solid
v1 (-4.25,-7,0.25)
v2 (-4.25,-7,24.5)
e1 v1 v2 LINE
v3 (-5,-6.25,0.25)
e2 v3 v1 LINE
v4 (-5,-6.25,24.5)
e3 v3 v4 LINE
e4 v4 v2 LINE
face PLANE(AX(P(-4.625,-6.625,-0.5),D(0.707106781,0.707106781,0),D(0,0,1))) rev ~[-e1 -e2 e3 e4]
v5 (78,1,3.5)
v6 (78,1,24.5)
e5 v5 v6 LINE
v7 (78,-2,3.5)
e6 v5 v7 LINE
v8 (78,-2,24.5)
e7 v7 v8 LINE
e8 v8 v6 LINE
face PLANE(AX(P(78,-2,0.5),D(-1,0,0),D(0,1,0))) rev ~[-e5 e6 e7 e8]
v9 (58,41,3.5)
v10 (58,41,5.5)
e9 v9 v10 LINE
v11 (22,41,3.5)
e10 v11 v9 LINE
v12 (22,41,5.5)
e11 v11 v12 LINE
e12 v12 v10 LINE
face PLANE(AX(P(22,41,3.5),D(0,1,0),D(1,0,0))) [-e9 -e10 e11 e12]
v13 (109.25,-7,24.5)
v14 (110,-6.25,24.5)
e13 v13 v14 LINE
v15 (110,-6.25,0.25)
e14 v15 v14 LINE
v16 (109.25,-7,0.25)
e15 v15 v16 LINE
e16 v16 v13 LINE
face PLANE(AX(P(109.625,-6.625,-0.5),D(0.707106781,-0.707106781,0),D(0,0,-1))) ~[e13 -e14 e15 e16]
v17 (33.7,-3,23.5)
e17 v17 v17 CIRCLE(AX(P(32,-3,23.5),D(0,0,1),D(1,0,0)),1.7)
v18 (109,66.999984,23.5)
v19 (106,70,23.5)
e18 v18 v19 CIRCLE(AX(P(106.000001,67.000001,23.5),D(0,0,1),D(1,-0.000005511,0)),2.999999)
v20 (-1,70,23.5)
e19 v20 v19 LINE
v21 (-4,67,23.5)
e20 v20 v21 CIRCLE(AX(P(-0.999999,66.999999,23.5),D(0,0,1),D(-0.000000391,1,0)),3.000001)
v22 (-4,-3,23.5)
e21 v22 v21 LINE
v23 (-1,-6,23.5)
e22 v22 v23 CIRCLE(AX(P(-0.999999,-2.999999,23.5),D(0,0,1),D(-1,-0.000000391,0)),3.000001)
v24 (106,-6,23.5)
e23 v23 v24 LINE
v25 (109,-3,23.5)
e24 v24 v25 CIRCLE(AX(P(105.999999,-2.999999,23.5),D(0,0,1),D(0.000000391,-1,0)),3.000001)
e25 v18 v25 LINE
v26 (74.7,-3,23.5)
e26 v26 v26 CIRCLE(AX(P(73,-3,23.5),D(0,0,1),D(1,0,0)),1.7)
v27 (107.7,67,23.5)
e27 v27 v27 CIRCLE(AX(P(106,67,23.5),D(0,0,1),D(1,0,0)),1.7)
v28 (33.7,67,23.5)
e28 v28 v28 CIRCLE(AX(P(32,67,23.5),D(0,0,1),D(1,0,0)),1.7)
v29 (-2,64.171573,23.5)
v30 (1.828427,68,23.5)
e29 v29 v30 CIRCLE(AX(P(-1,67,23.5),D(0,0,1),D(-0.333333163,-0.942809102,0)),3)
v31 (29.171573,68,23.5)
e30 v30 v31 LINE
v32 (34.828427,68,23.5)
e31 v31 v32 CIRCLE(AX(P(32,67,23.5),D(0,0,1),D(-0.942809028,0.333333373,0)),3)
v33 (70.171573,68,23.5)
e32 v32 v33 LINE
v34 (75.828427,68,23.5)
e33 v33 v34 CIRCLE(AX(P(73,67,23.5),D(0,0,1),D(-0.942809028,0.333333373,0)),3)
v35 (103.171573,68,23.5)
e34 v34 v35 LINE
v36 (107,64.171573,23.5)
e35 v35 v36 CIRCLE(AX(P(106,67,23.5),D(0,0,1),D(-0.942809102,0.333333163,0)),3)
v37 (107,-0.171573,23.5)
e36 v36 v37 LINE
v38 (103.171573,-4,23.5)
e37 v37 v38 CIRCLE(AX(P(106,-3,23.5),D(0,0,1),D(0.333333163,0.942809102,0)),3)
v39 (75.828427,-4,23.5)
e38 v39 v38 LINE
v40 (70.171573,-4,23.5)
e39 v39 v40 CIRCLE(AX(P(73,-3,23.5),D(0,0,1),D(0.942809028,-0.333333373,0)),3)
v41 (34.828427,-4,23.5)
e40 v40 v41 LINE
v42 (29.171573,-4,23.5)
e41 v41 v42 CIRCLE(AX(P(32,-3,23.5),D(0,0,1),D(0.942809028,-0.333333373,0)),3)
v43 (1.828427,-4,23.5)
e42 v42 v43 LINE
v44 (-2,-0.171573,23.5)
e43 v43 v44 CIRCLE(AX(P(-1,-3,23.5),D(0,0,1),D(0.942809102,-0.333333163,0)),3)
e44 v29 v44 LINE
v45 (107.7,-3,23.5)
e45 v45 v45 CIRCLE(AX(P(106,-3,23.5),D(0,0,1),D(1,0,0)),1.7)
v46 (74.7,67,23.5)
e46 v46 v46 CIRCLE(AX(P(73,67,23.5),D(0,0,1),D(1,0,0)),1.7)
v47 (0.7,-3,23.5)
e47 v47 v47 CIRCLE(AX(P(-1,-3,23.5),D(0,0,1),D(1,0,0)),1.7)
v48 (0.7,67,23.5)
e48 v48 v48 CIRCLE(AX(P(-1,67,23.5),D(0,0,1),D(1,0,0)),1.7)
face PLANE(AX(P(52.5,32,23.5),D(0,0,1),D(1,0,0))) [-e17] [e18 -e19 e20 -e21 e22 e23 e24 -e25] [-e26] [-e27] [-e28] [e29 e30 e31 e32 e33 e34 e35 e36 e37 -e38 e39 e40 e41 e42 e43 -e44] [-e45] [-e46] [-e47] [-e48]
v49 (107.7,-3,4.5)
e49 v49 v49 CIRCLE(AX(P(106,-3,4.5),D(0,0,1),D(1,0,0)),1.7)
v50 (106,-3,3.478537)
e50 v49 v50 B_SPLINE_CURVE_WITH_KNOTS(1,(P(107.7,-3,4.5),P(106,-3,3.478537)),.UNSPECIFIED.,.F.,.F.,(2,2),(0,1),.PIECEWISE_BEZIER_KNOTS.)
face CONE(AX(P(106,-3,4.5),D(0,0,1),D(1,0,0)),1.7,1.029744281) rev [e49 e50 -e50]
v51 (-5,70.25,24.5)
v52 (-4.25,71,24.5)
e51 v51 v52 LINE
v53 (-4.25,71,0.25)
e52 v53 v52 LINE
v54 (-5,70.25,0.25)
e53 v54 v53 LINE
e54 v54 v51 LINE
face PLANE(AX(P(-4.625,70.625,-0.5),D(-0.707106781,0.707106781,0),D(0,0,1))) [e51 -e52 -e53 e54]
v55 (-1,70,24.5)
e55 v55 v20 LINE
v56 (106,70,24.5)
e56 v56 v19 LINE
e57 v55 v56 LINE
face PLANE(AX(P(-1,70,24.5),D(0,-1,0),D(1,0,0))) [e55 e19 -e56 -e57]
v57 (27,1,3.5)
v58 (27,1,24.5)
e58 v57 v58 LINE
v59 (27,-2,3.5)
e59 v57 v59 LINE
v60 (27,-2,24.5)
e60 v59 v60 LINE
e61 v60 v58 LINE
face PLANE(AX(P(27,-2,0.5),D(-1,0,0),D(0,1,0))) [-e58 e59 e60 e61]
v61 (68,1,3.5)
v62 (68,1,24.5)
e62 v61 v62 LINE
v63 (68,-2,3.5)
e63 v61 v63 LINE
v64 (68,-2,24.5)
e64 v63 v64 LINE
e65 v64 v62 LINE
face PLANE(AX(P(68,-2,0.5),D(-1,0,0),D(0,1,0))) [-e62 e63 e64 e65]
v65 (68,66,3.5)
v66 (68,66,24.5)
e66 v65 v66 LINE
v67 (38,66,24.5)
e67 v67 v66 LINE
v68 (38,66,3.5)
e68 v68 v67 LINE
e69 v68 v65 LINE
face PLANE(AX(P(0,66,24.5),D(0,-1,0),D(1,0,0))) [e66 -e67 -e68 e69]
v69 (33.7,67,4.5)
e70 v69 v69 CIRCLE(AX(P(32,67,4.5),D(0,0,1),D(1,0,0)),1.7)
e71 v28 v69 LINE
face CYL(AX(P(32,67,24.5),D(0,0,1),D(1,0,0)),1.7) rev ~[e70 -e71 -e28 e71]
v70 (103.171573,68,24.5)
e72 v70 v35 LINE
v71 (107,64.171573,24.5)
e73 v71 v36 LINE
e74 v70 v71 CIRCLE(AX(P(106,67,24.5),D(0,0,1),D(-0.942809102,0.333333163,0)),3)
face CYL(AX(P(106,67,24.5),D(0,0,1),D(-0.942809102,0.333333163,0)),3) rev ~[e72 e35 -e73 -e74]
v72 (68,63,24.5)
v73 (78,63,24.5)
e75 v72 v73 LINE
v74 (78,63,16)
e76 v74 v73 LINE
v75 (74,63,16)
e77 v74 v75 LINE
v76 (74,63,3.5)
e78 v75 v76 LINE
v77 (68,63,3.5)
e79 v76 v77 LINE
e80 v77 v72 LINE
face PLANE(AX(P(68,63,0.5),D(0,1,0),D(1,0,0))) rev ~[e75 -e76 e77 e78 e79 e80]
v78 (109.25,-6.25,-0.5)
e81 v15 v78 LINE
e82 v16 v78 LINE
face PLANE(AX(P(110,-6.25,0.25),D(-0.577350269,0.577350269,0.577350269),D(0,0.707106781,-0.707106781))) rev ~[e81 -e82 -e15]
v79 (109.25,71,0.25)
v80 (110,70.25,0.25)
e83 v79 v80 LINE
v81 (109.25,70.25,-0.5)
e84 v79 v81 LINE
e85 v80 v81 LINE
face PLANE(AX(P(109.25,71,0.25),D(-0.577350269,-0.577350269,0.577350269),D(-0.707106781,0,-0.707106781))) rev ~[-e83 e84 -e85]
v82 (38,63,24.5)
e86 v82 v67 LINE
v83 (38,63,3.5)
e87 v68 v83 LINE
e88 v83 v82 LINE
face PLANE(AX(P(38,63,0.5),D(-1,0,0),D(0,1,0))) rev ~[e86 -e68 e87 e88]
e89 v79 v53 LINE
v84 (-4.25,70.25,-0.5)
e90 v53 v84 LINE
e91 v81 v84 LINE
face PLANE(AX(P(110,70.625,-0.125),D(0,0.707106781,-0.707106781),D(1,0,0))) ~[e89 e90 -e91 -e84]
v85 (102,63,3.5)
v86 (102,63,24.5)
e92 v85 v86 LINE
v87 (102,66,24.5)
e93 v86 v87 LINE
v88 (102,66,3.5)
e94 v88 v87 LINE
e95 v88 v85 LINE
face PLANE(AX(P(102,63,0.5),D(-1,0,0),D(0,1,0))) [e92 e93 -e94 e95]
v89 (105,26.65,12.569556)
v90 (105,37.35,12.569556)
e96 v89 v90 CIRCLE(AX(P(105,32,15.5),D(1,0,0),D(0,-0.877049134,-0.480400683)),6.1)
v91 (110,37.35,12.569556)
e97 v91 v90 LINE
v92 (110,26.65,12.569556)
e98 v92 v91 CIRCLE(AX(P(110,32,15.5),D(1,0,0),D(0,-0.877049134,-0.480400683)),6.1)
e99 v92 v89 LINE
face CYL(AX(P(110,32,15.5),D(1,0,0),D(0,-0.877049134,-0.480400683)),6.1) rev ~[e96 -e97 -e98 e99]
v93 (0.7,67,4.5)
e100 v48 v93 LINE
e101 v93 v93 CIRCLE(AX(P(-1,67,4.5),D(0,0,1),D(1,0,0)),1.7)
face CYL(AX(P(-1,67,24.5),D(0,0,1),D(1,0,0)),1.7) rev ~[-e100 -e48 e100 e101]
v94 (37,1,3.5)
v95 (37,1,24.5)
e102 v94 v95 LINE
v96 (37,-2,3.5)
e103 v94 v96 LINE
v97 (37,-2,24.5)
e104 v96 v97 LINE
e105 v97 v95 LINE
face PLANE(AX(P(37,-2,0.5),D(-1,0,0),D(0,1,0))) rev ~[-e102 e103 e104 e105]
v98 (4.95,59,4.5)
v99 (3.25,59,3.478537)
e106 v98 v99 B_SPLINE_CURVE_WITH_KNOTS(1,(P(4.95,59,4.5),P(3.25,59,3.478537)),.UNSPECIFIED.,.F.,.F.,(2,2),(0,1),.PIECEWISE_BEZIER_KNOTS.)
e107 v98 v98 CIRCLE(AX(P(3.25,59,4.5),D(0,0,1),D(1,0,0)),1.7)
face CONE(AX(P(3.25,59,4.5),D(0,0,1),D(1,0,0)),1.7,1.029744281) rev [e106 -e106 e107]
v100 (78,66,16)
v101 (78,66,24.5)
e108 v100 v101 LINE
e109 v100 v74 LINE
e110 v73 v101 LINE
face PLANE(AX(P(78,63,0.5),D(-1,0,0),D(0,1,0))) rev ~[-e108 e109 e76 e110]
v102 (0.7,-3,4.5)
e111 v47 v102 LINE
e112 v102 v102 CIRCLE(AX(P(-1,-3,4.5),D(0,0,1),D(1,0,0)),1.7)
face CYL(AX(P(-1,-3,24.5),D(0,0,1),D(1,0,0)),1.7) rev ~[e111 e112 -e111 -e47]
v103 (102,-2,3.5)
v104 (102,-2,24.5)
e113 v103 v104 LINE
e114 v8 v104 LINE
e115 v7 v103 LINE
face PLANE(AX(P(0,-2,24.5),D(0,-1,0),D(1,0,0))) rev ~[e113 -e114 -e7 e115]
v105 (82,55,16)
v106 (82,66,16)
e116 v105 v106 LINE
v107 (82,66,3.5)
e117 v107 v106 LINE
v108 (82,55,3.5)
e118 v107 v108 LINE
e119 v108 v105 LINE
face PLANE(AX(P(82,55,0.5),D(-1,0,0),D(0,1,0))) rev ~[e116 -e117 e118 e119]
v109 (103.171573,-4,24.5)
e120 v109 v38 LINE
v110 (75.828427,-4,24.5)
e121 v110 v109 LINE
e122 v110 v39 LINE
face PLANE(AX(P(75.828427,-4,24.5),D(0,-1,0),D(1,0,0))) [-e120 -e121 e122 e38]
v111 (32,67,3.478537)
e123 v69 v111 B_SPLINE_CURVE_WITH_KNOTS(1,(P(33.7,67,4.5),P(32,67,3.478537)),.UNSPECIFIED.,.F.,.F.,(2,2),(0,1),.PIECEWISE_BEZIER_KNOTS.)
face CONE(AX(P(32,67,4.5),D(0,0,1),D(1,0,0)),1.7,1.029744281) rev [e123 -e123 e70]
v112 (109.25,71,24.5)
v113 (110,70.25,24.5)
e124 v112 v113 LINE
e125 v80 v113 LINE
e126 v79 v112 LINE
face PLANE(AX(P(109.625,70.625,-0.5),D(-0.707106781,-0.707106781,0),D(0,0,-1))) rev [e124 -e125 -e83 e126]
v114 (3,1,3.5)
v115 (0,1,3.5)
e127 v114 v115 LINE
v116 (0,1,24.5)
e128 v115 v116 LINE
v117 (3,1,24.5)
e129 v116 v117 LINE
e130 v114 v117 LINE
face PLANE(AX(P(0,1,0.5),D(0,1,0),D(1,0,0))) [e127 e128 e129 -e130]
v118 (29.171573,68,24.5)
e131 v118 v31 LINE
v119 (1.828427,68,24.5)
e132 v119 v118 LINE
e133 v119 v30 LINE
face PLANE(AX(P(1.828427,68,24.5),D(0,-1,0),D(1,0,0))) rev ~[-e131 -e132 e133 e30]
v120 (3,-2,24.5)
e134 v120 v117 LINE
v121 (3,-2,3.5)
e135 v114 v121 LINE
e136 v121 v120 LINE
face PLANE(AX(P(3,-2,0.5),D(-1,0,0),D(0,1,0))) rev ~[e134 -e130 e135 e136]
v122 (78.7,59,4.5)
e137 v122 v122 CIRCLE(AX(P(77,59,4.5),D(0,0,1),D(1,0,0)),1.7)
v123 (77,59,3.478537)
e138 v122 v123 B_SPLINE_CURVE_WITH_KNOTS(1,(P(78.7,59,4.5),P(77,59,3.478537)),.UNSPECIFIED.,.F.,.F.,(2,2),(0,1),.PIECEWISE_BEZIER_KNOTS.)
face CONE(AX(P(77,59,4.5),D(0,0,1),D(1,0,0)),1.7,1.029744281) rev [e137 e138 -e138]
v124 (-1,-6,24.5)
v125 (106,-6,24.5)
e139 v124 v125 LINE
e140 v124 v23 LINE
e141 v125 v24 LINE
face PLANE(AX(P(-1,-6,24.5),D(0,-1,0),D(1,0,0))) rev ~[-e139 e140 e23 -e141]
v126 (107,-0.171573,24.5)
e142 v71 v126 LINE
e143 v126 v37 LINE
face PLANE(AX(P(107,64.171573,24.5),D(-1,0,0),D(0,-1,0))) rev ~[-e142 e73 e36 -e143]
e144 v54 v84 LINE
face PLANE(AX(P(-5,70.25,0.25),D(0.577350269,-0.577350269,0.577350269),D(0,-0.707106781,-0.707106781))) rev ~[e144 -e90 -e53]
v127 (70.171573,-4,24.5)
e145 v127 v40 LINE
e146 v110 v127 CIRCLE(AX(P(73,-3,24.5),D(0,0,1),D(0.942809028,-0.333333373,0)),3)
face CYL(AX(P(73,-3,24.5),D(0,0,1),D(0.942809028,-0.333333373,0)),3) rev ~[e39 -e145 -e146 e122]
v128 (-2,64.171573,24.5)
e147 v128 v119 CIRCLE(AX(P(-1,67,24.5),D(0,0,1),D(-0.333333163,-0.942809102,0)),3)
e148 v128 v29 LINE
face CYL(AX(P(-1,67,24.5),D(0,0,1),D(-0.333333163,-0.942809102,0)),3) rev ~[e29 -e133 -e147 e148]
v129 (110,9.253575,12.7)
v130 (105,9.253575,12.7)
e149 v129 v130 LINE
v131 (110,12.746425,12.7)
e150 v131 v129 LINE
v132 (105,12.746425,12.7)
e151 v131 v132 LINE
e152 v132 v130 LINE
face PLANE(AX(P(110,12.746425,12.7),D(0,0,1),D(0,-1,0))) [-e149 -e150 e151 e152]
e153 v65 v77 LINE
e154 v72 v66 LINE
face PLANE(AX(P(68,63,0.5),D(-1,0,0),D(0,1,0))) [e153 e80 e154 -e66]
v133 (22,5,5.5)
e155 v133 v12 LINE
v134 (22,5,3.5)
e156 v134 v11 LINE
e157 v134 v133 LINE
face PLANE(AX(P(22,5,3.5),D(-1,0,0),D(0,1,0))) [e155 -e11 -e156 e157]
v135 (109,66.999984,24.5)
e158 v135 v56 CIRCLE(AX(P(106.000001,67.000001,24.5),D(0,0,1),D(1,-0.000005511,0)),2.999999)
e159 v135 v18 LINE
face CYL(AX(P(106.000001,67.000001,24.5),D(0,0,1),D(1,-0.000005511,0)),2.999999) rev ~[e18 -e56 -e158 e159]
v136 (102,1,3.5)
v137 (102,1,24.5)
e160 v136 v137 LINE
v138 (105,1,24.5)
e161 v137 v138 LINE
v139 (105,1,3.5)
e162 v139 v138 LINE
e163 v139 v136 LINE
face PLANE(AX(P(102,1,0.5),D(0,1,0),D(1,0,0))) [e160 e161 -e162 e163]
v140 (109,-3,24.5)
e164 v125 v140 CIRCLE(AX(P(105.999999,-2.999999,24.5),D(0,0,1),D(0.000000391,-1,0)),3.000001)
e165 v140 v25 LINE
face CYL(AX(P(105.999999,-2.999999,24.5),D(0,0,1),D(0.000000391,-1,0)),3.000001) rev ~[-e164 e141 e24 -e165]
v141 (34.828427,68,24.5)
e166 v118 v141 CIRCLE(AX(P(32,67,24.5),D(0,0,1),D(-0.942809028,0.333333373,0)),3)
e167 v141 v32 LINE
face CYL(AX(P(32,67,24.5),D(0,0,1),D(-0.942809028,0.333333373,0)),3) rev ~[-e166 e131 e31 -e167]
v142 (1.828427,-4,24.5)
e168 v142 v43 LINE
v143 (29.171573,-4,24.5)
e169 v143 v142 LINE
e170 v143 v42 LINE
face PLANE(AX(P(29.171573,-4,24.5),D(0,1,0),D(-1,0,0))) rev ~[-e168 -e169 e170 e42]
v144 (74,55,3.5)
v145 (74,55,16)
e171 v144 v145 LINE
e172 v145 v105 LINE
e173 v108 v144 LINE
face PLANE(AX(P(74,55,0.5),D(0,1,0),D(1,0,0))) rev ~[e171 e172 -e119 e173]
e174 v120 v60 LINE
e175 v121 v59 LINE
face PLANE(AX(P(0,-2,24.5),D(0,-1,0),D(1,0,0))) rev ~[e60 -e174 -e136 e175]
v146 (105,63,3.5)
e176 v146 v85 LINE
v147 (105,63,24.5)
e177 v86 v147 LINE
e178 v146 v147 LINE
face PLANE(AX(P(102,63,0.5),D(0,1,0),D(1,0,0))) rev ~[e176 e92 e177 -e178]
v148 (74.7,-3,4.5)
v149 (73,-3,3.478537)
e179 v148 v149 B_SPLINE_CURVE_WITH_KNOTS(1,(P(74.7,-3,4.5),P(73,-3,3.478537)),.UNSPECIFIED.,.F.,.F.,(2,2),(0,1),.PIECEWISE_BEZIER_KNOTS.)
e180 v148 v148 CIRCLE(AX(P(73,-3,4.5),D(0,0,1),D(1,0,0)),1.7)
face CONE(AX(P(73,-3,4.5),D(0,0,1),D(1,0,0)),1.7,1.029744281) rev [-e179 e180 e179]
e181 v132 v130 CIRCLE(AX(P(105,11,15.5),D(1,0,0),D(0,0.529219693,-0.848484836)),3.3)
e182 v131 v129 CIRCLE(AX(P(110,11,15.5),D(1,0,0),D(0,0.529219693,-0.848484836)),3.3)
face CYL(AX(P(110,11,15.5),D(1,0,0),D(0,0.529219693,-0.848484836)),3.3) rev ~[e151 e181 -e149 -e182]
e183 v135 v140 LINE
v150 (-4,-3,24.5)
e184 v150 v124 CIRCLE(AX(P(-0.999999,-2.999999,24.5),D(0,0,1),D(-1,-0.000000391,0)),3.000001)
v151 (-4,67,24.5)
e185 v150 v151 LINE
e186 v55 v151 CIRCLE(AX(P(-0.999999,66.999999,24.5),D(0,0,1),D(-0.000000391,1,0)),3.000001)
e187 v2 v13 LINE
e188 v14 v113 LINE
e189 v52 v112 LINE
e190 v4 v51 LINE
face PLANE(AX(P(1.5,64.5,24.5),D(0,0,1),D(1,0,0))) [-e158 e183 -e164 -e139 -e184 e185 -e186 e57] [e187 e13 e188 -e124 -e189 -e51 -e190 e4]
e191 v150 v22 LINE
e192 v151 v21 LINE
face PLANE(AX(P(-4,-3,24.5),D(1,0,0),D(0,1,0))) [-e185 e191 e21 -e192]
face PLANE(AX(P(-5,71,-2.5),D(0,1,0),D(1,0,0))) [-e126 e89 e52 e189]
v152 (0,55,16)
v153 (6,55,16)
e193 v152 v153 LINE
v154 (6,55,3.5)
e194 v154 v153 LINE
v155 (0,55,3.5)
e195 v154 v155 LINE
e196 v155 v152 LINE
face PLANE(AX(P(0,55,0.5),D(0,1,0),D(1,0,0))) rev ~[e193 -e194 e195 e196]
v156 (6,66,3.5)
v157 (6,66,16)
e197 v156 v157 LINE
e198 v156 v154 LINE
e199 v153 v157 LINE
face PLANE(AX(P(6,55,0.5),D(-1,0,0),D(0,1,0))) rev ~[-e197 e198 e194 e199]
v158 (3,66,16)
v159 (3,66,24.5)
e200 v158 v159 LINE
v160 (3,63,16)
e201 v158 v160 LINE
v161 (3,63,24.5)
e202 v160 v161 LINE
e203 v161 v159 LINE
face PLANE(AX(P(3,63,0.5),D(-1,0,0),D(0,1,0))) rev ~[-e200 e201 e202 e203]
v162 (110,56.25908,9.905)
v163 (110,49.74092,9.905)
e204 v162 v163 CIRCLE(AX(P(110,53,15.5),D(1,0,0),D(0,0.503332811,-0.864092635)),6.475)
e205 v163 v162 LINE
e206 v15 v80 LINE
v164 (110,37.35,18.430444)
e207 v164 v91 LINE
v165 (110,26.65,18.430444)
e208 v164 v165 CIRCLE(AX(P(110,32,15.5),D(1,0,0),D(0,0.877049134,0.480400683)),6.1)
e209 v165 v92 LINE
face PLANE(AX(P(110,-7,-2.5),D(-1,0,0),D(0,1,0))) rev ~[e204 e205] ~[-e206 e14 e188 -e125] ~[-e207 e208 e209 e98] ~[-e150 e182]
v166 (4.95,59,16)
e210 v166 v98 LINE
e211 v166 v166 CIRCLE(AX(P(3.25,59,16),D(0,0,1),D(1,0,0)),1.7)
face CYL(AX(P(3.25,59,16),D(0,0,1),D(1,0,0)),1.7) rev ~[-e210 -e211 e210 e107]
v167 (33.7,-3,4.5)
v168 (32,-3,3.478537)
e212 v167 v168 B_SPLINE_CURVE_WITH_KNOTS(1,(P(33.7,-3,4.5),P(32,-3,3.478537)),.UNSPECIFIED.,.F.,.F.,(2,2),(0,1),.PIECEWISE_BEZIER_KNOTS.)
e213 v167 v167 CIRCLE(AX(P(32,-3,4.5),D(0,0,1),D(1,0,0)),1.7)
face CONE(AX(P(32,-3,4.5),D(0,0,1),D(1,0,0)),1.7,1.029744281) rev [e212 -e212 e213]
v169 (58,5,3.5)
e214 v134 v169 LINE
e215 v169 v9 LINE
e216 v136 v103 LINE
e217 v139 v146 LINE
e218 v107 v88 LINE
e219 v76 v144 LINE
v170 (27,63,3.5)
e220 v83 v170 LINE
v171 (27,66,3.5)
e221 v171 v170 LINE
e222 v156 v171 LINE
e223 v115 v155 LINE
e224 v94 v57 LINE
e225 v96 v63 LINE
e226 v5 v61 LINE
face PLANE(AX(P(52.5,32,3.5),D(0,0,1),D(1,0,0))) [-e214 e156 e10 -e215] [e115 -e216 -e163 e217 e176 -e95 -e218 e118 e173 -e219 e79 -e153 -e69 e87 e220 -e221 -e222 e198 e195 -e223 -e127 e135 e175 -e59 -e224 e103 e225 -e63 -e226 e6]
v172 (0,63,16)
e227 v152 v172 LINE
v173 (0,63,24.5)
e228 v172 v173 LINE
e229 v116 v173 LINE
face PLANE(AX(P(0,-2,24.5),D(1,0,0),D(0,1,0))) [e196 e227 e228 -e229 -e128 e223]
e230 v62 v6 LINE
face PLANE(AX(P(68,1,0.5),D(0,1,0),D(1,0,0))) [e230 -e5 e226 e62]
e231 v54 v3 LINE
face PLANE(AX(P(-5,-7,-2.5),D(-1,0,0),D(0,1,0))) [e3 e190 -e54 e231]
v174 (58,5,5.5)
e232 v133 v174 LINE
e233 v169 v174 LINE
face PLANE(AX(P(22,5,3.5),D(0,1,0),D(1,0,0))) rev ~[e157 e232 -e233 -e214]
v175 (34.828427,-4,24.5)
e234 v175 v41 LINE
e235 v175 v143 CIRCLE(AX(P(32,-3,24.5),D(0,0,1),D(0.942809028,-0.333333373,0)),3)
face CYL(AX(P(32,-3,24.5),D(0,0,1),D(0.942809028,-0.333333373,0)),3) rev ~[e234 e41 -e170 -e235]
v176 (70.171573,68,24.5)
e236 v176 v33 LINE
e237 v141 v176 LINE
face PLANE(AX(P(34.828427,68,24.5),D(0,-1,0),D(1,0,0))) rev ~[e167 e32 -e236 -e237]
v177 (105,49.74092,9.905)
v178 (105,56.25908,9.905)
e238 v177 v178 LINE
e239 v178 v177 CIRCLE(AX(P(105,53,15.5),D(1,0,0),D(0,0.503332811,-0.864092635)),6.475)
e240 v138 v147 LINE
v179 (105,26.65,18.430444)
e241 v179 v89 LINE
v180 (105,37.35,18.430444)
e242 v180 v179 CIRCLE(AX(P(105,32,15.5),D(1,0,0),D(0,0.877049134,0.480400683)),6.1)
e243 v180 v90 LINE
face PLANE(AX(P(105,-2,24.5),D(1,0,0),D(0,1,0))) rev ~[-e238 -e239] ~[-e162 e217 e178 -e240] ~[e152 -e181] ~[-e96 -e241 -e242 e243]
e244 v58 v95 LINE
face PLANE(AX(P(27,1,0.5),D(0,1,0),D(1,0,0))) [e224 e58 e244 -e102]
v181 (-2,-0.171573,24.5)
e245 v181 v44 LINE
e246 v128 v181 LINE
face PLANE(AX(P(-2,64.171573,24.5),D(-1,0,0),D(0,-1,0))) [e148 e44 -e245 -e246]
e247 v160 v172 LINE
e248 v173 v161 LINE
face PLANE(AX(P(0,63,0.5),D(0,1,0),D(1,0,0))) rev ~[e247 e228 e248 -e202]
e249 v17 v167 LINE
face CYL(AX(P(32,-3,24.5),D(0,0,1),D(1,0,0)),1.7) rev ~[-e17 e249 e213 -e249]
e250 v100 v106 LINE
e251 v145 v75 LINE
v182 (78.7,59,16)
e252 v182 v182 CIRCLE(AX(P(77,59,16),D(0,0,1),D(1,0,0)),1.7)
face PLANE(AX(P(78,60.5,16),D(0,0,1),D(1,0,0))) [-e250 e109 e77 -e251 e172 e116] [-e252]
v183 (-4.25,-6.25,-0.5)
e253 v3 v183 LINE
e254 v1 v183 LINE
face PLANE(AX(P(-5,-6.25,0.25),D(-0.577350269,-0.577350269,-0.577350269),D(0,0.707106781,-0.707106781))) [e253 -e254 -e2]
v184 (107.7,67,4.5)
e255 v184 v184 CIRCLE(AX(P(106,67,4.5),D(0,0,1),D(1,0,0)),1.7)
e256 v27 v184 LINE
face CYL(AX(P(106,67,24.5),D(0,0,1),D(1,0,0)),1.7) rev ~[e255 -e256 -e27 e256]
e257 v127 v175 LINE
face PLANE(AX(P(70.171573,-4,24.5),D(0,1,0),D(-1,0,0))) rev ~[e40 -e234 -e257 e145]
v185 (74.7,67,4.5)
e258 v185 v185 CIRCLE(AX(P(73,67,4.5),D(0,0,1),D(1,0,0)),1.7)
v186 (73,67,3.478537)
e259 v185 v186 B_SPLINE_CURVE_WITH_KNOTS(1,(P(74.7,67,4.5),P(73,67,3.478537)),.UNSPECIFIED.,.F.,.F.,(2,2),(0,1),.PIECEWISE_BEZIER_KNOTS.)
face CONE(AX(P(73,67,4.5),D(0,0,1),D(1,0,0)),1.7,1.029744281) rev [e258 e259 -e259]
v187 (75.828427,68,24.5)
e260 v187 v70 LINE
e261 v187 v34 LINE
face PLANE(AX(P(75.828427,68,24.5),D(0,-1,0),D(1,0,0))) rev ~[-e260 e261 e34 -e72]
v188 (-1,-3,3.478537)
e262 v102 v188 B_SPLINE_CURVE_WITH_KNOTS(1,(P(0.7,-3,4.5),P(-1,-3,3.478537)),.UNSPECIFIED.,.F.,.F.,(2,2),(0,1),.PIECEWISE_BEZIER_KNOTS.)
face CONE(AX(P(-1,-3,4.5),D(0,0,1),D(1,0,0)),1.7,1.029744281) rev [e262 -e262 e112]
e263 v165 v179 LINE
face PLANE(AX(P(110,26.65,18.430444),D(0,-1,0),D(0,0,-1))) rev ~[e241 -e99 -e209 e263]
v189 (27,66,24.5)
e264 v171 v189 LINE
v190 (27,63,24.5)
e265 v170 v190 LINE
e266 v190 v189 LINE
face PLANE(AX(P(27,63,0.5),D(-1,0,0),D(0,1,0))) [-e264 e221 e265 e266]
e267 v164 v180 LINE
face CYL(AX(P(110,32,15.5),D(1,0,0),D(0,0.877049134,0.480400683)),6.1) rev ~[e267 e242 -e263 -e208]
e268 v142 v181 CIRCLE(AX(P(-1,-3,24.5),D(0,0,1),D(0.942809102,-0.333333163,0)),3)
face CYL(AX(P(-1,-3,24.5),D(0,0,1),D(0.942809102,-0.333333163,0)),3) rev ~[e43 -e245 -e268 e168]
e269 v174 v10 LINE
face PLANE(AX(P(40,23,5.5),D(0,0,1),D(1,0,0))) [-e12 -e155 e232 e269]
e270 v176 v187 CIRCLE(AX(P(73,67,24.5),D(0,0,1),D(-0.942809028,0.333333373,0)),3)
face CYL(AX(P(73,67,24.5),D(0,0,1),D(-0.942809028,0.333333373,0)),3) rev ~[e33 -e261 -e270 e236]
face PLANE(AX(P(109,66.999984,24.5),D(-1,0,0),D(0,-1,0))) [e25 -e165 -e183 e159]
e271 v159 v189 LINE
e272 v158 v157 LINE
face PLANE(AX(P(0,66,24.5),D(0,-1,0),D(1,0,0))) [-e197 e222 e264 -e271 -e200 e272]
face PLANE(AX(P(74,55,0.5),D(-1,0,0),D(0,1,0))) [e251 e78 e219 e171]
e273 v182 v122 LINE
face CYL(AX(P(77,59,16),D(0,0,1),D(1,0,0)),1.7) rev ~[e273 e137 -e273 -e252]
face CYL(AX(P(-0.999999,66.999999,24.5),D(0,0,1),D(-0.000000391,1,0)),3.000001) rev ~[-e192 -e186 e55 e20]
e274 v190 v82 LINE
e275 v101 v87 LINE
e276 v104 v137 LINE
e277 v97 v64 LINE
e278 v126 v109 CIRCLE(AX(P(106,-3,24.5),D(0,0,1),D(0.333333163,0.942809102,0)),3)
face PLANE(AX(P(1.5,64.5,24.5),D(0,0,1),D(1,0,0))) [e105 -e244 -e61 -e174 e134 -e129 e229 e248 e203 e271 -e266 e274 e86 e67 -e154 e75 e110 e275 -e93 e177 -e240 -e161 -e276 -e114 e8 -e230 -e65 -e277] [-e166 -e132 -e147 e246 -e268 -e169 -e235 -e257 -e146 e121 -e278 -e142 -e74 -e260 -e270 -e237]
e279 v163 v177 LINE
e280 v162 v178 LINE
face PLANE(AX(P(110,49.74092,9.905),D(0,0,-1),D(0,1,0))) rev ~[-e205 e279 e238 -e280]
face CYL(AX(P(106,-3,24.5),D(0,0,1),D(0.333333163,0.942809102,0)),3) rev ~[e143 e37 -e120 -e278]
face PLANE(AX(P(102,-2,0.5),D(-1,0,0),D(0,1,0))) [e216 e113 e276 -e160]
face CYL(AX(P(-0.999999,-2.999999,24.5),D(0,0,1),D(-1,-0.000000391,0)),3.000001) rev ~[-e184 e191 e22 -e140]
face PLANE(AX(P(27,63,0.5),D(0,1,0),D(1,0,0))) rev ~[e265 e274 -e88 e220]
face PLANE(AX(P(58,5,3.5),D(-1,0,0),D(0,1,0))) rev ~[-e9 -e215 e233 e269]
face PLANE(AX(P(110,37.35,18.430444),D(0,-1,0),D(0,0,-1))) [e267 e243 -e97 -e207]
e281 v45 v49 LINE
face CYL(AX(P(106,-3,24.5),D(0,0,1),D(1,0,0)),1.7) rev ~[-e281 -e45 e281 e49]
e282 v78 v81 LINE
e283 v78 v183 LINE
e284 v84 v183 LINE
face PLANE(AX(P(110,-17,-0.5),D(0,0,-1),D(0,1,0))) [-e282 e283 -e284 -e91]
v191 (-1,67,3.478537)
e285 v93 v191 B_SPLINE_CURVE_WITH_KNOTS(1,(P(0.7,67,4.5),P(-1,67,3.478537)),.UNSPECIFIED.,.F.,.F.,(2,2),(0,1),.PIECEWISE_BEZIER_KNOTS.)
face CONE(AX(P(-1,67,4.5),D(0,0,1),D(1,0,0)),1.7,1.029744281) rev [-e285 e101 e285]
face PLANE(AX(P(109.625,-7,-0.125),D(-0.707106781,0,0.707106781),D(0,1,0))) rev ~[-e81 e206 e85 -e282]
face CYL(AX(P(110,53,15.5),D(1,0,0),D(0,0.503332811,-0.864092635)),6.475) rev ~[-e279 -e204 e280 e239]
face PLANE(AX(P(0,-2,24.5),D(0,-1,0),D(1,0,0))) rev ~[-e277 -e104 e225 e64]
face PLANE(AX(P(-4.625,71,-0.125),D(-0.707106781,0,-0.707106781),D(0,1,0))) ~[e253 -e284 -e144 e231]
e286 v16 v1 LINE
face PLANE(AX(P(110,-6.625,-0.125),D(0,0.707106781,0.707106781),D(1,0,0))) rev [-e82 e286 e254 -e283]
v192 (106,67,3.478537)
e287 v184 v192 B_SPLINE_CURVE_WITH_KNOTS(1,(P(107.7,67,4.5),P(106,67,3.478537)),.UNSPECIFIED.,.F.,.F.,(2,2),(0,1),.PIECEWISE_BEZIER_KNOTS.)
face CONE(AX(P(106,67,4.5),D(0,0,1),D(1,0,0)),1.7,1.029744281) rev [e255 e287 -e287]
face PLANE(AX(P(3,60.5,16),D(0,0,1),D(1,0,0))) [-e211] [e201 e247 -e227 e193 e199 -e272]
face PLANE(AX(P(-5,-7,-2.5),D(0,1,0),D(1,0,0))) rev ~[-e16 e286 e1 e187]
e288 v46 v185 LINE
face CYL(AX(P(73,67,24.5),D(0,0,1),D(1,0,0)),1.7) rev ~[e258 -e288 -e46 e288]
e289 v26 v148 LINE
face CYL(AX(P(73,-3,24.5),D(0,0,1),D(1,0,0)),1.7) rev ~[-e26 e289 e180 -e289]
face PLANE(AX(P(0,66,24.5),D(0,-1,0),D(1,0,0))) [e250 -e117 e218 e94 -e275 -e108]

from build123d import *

# Parameters (mm, degrees)
SKETCH_W        = 115
SKETCH_H        = 78
PAD_DEPTH       = 27
SKETCH001_W     = 105
SKETCH001_H     = 68
POCKET_DEPTH    = 21
POCKET005_DEPTH = 5
SKETCH015_W     = 6
SKETCH015_H     = 11
SKETCH015_W_2   = 8
PAD006_DEPTH    = 15.5
SKETCH012_W     = 3
SKETCH012_H     = 3
SKETCH012_W_2   = 10
SKETCH012_W_3   = 11
PAD007_DEPTH    = 24
SKETCH016_R     = 1.7
HOLE_DEPTH      = 11.5
HOLE_TIPS_R     = 1.7
SKETCH017_R     = 1.7
HOLE001_DEPTH   = 20
HOLE001_TIPS_R  = 1.7
SKETCH018_W     = 36
SKETCH018_H     = 36
PAD008_DEPTH    = 2
SKETCH025_R     = 1.7
POCKET010_DEPTH = 1
SKETCH028_W     = 88
SKETCH028_H     = 2
POCKET011_DEPTH = 115.001
CHAMFER_SIZE    = 0.75


with BuildPart() as part:
    # Sketch → Pad (new body)
    with BuildSketch(Plane.XY):
        with Locations((52.5, 32)):
            Rectangle(SKETCH_W, SKETCH_H)
    extrude(amount=PAD_DEPTH)

    # Sketch001 (on Face6 of Pad) → Pocket (cut)
    with BuildSketch(Plane.XY.offset(27)):
        with Locations((52.5, 32)):
            Rectangle(SKETCH001_W, SKETCH001_H)
    extrude(amount=-POCKET_DEPTH, mode=Mode.SUBTRACT)

    # Sketch014 → Pocket005 (cut)
    with BuildSketch(Plane.YZ.offset(110)):
        with BuildLine():
            ThreePointArc((56.25908, 12.405), (53, 24.475), (49.74092, 12.405))
            Line((49.74092, 12.405), (56.25908, 12.405))
        make_face()
        with BuildLine():
            ThreePointArc((12.746425, 15.2), (11, 21.3), (9.253575, 15.2))
            Line((12.746425, 15.2), (9.253575, 15.2))
        make_face()
        with BuildLine():
            ThreePointArc((26.65, 15.069556), (32, 11.9), (37.35, 15.069556))
            Line((37.35, 20.930444), (37.35, 15.069556))
            ThreePointArc((37.35, 20.930444), (32, 24.1), (26.65, 20.930444))
            Line((26.65, 20.930444), (26.65, 15.069556))
        make_face()
    extrude(amount=-POCKET005_DEPTH, mode=Mode.SUBTRACT)

    # Sketch015 → Pad006 (join)
    with BuildSketch(Plane.XY.offset(3)):
        with Locations((3, 60.5)):
            Rectangle(SKETCH015_W, SKETCH015_H)
        with Locations((78, 60.5)):
            Rectangle(SKETCH015_W_2, SKETCH015_H)
    extrude(amount=PAD006_DEPTH)

    # Sketch012 → Pad007 (join)
    with BuildSketch(Plane.XY.offset(3)):
        with Locations((1.5, 64.5)):
            Rectangle(SKETCH012_W, SKETCH012_H)
        with Locations((103.5, 64.5)):
            Rectangle(SKETCH012_W, SKETCH012_H)
        with Locations((1.5, -0.5)):
            Rectangle(SKETCH012_W, SKETCH012_H)
        with Locations((73, 64.5)):
            Rectangle(SKETCH012_W_2, SKETCH012_H)
        with Locations((32, -0.5)):
            Rectangle(SKETCH012_W_2, SKETCH012_H)
        with Locations((73, -0.5)):
            Rectangle(SKETCH012_W_2, SKETCH012_H)
        with Locations((32.5, 64.5)):
            Rectangle(SKETCH012_W_3, SKETCH012_H)
        with Locations((103.5, -0.5)):
            Rectangle(SKETCH012_W, SKETCH012_H)
    extrude(amount=PAD007_DEPTH)

    # Sketch016 → Hole (cut)
    with BuildSketch(Plane.XY.offset(18.5)):
        with Locations((3.25, 59)):
            Circle(SKETCH016_R)
        with Locations((77, 59)):
            Circle(SKETCH016_R)
    extrude(amount=-HOLE_DEPTH, mode=Mode.SUBTRACT)

    # Hole tips → Hole tip 1 section 0
    with BuildSketch(Plane.XY.offset(7), mode=Mode.PRIVATE) as hole_tip_1_s0:
        with Locations((3.25, 59)):
            Circle(HOLE_TIPS_R)
    loft([hole_tip_1_s0.sketch, Vertex(3.25, 59, 5.978537)], mode=Mode.SUBTRACT)

    # Hole tips → Hole tip 2 section 0
    with BuildSketch(Plane.XY.offset(7), mode=Mode.PRIVATE) as hole_tip_2_s0:
        with Locations((77, 59)):
            Circle(HOLE_TIPS_R)
    loft([hole_tip_2_s0.sketch, Vertex(77, 59, 5.978537)], mode=Mode.SUBTRACT)

    # Sketch017 (on Face2 of Hole) → Hole001 (cut)
    with BuildSketch(Plane.XY.offset(27)):
        with Locations((-1, 67)):
            Circle(SKETCH017_R)
        with Locations((-1, -3)):
            Circle(SKETCH017_R)
        with Locations((73, 67)):
            Circle(SKETCH017_R)
        with Locations((73, -3)):
            Circle(SKETCH017_R)
        with Locations((32, -3)):
            Circle(SKETCH017_R)
        with Locations((32, 67)):
            Circle(SKETCH017_R)
        with Locations((106, 67)):
            Circle(SKETCH017_R)
        with Locations((106, -3)):
            Circle(SKETCH017_R)
    extrude(amount=-HOLE001_DEPTH, mode=Mode.SUBTRACT)

    # Hole001 tips → Hole001 tip 1 section 0
    with BuildSketch(Plane.XY.offset(7), mode=Mode.PRIVATE) as hole001_tip_1_s0:
        with Locations((-1, 67)):
            Circle(HOLE001_TIPS_R)
    loft([hole001_tip_1_s0.sketch, Vertex(-1, 67, 5.978537)], mode=Mode.SUBTRACT)

    # Hole001 tips → Hole001 tip 2 section 0
    with BuildSketch(Plane.XY.offset(7), mode=Mode.PRIVATE) as hole001_tip_2_s0:
        with Locations((-1, -3)):
            Circle(HOLE001_TIPS_R)
    loft([hole001_tip_2_s0.sketch, Vertex(-1, -3, 5.978537)], mode=Mode.SUBTRACT)

    # Hole001 tips → Hole001 tip 3 section 0
    with BuildSketch(Plane.XY.offset(7), mode=Mode.PRIVATE) as hole001_tip_3_s0:
        with Locations((73, 67)):
            Circle(HOLE001_TIPS_R)
    loft([hole001_tip_3_s0.sketch, Vertex(73, 67, 5.978537)], mode=Mode.SUBTRACT)

    # Hole001 tips → Hole001 tip 4 section 0
    with BuildSketch(Plane.XY.offset(7), mode=Mode.PRIVATE) as hole001_tip_4_s0:
        with Locations((73, -3)):
            Circle(HOLE001_TIPS_R)
    loft([hole001_tip_4_s0.sketch, Vertex(73, -3, 5.978537)], mode=Mode.SUBTRACT)

    # Hole001 tips → Hole001 tip 5 section 0
    with BuildSketch(Plane.XY.offset(7), mode=Mode.PRIVATE) as hole001_tip_5_s0:
        with Locations((32, -3)):
            Circle(HOLE001_TIPS_R)
    loft([hole001_tip_5_s0.sketch, Vertex(32, -3, 5.978537)], mode=Mode.SUBTRACT)

    # Hole001 tips → Hole001 tip 6 section 0
    with BuildSketch(Plane.XY.offset(7), mode=Mode.PRIVATE) as hole001_tip_6_s0:
        with Locations((32, 67)):
            Circle(HOLE001_TIPS_R)
    loft([hole001_tip_6_s0.sketch, Vertex(32, 67, 5.978537)], mode=Mode.SUBTRACT)

    # Hole001 tips → Hole001 tip 7 section 0
    with BuildSketch(Plane.XY.offset(7), mode=Mode.PRIVATE) as hole001_tip_7_s0:
        with Locations((106, 67)):
            Circle(HOLE001_TIPS_R)
    loft([hole001_tip_7_s0.sketch, Vertex(106, 67, 5.978537)], mode=Mode.SUBTRACT)

    # Hole001 tips → Hole001 tip 8 section 0
    with BuildSketch(Plane.XY.offset(7), mode=Mode.PRIVATE) as hole001_tip_8_s0:
        with Locations((106, -3)):
            Circle(HOLE001_TIPS_R)
    loft([hole001_tip_8_s0.sketch, Vertex(106, -3, 5.978537)], mode=Mode.SUBTRACT)

    # Sketch018 → Pad008 (join)
    with BuildSketch(Plane.XY.offset(6)):
        with Locations((40, 23)):
            Rectangle(SKETCH018_W, SKETCH018_H)
    extrude(amount=PAD008_DEPTH)

    # Sketch025 → Pocket010 (cut)
    with BuildSketch(Plane.XY.offset(27)):
        with BuildLine():
            ThreePointArc((-1, 70), (-3.12132, 69.12132), (-4, 67))
            Line((-4, -3), (-4, 67))
            ThreePointArc((-4, -3), (-3.12132, -5.12132), (-1, -6))
            Line((-1, -6), (106, -6))
            ThreePointArc((106, -6), (108.12132, -5.12132), (109, -3))
            Line((109, 66.999984), (109, -3))
            ThreePointArc((109, 66.999984), (108.121326, 69.121315), (106, 70))
            Line((-1, 70), (106, 70))
        make_face()
        with Locations((32, 67)):
            Circle(SKETCH025_R, mode=Mode.SUBTRACT)
        with Locations((32, -3)):
            Circle(SKETCH025_R, mode=Mode.SUBTRACT)
        with Locations((106, -3)):
            Circle(SKETCH025_R, mode=Mode.SUBTRACT)
        with Locations((106, 67)):
            Circle(SKETCH025_R, mode=Mode.SUBTRACT)
        with BuildLine():
            Line((-2, 64.171573), (-2, -0.171573))
            ThreePointArc((1.828427, -4), (1.12132, -0.87868), (-2, -0.171573))
            Line((29.171573, -4), (1.828427, -4))
            ThreePointArc((34.828427, -4), (32, 0), (29.171573, -4))
            Line((70.171573, -4), (34.828427, -4))
            ThreePointArc((75.828427, -4), (73, 0), (70.171573, -4))
            Line((75.828427, -4), (103.171573, -4))
            ThreePointArc((107, -0.171573), (103.87868, -0.87868), (103.171573, -4))
            Line((107, 64.171573), (107, -0.171573))
            ThreePointArc((103.171573, 68), (103.87868, 64.87868), (107, 64.171573))
            Line((75.828427, 68), (103.171573, 68))
            ThreePointArc((70.171573, 68), (73, 64), (75.828427, 68))
            Line((34.828427, 68), (70.171573, 68))
            ThreePointArc((29.171573, 68), (32, 64), (34.828427, 68))
            Line((1.828427, 68), (29.171573, 68))
            ThreePointArc((-2, 64.171573), (1.12132, 64.87868), (1.828427, 68))
        make_face(mode=Mode.SUBTRACT)
    extrude(amount=-POCKET010_DEPTH, mode=Mode.SUBTRACT)

    # Sketch028 (on Face87 of Pocket010) → Pocket011 (cut, through all)
    with BuildSketch(Plane.YZ.offset(110)):
        with Locations((27, 1)):
            Rectangle(SKETCH028_W, SKETCH028_H)
    extrude(amount=-POCKET011_DEPTH, mode=Mode.SUBTRACT)

    # Chamfer
    chamfer_edges = [part.edges().sort_by_distance(p)[0] for p in [
        (52.5, -7, 2),
        (-5, -7, 14.5),
        (110, -7, 14.5),
        (110, 32, 2),
        (110, 71, 14.5),
        (52.5, 71, 2),
        (-5, 71, 14.5),
        (-5, 32, 2),
    ]]
    chamfer(chamfer_edges, length=CHAMFER_SIZE)


with BuildPart() as part_1:
    # Body placement: moved
    add(part.part.moved(Location((0, 0, -2.5))))


solid = part_1.part
